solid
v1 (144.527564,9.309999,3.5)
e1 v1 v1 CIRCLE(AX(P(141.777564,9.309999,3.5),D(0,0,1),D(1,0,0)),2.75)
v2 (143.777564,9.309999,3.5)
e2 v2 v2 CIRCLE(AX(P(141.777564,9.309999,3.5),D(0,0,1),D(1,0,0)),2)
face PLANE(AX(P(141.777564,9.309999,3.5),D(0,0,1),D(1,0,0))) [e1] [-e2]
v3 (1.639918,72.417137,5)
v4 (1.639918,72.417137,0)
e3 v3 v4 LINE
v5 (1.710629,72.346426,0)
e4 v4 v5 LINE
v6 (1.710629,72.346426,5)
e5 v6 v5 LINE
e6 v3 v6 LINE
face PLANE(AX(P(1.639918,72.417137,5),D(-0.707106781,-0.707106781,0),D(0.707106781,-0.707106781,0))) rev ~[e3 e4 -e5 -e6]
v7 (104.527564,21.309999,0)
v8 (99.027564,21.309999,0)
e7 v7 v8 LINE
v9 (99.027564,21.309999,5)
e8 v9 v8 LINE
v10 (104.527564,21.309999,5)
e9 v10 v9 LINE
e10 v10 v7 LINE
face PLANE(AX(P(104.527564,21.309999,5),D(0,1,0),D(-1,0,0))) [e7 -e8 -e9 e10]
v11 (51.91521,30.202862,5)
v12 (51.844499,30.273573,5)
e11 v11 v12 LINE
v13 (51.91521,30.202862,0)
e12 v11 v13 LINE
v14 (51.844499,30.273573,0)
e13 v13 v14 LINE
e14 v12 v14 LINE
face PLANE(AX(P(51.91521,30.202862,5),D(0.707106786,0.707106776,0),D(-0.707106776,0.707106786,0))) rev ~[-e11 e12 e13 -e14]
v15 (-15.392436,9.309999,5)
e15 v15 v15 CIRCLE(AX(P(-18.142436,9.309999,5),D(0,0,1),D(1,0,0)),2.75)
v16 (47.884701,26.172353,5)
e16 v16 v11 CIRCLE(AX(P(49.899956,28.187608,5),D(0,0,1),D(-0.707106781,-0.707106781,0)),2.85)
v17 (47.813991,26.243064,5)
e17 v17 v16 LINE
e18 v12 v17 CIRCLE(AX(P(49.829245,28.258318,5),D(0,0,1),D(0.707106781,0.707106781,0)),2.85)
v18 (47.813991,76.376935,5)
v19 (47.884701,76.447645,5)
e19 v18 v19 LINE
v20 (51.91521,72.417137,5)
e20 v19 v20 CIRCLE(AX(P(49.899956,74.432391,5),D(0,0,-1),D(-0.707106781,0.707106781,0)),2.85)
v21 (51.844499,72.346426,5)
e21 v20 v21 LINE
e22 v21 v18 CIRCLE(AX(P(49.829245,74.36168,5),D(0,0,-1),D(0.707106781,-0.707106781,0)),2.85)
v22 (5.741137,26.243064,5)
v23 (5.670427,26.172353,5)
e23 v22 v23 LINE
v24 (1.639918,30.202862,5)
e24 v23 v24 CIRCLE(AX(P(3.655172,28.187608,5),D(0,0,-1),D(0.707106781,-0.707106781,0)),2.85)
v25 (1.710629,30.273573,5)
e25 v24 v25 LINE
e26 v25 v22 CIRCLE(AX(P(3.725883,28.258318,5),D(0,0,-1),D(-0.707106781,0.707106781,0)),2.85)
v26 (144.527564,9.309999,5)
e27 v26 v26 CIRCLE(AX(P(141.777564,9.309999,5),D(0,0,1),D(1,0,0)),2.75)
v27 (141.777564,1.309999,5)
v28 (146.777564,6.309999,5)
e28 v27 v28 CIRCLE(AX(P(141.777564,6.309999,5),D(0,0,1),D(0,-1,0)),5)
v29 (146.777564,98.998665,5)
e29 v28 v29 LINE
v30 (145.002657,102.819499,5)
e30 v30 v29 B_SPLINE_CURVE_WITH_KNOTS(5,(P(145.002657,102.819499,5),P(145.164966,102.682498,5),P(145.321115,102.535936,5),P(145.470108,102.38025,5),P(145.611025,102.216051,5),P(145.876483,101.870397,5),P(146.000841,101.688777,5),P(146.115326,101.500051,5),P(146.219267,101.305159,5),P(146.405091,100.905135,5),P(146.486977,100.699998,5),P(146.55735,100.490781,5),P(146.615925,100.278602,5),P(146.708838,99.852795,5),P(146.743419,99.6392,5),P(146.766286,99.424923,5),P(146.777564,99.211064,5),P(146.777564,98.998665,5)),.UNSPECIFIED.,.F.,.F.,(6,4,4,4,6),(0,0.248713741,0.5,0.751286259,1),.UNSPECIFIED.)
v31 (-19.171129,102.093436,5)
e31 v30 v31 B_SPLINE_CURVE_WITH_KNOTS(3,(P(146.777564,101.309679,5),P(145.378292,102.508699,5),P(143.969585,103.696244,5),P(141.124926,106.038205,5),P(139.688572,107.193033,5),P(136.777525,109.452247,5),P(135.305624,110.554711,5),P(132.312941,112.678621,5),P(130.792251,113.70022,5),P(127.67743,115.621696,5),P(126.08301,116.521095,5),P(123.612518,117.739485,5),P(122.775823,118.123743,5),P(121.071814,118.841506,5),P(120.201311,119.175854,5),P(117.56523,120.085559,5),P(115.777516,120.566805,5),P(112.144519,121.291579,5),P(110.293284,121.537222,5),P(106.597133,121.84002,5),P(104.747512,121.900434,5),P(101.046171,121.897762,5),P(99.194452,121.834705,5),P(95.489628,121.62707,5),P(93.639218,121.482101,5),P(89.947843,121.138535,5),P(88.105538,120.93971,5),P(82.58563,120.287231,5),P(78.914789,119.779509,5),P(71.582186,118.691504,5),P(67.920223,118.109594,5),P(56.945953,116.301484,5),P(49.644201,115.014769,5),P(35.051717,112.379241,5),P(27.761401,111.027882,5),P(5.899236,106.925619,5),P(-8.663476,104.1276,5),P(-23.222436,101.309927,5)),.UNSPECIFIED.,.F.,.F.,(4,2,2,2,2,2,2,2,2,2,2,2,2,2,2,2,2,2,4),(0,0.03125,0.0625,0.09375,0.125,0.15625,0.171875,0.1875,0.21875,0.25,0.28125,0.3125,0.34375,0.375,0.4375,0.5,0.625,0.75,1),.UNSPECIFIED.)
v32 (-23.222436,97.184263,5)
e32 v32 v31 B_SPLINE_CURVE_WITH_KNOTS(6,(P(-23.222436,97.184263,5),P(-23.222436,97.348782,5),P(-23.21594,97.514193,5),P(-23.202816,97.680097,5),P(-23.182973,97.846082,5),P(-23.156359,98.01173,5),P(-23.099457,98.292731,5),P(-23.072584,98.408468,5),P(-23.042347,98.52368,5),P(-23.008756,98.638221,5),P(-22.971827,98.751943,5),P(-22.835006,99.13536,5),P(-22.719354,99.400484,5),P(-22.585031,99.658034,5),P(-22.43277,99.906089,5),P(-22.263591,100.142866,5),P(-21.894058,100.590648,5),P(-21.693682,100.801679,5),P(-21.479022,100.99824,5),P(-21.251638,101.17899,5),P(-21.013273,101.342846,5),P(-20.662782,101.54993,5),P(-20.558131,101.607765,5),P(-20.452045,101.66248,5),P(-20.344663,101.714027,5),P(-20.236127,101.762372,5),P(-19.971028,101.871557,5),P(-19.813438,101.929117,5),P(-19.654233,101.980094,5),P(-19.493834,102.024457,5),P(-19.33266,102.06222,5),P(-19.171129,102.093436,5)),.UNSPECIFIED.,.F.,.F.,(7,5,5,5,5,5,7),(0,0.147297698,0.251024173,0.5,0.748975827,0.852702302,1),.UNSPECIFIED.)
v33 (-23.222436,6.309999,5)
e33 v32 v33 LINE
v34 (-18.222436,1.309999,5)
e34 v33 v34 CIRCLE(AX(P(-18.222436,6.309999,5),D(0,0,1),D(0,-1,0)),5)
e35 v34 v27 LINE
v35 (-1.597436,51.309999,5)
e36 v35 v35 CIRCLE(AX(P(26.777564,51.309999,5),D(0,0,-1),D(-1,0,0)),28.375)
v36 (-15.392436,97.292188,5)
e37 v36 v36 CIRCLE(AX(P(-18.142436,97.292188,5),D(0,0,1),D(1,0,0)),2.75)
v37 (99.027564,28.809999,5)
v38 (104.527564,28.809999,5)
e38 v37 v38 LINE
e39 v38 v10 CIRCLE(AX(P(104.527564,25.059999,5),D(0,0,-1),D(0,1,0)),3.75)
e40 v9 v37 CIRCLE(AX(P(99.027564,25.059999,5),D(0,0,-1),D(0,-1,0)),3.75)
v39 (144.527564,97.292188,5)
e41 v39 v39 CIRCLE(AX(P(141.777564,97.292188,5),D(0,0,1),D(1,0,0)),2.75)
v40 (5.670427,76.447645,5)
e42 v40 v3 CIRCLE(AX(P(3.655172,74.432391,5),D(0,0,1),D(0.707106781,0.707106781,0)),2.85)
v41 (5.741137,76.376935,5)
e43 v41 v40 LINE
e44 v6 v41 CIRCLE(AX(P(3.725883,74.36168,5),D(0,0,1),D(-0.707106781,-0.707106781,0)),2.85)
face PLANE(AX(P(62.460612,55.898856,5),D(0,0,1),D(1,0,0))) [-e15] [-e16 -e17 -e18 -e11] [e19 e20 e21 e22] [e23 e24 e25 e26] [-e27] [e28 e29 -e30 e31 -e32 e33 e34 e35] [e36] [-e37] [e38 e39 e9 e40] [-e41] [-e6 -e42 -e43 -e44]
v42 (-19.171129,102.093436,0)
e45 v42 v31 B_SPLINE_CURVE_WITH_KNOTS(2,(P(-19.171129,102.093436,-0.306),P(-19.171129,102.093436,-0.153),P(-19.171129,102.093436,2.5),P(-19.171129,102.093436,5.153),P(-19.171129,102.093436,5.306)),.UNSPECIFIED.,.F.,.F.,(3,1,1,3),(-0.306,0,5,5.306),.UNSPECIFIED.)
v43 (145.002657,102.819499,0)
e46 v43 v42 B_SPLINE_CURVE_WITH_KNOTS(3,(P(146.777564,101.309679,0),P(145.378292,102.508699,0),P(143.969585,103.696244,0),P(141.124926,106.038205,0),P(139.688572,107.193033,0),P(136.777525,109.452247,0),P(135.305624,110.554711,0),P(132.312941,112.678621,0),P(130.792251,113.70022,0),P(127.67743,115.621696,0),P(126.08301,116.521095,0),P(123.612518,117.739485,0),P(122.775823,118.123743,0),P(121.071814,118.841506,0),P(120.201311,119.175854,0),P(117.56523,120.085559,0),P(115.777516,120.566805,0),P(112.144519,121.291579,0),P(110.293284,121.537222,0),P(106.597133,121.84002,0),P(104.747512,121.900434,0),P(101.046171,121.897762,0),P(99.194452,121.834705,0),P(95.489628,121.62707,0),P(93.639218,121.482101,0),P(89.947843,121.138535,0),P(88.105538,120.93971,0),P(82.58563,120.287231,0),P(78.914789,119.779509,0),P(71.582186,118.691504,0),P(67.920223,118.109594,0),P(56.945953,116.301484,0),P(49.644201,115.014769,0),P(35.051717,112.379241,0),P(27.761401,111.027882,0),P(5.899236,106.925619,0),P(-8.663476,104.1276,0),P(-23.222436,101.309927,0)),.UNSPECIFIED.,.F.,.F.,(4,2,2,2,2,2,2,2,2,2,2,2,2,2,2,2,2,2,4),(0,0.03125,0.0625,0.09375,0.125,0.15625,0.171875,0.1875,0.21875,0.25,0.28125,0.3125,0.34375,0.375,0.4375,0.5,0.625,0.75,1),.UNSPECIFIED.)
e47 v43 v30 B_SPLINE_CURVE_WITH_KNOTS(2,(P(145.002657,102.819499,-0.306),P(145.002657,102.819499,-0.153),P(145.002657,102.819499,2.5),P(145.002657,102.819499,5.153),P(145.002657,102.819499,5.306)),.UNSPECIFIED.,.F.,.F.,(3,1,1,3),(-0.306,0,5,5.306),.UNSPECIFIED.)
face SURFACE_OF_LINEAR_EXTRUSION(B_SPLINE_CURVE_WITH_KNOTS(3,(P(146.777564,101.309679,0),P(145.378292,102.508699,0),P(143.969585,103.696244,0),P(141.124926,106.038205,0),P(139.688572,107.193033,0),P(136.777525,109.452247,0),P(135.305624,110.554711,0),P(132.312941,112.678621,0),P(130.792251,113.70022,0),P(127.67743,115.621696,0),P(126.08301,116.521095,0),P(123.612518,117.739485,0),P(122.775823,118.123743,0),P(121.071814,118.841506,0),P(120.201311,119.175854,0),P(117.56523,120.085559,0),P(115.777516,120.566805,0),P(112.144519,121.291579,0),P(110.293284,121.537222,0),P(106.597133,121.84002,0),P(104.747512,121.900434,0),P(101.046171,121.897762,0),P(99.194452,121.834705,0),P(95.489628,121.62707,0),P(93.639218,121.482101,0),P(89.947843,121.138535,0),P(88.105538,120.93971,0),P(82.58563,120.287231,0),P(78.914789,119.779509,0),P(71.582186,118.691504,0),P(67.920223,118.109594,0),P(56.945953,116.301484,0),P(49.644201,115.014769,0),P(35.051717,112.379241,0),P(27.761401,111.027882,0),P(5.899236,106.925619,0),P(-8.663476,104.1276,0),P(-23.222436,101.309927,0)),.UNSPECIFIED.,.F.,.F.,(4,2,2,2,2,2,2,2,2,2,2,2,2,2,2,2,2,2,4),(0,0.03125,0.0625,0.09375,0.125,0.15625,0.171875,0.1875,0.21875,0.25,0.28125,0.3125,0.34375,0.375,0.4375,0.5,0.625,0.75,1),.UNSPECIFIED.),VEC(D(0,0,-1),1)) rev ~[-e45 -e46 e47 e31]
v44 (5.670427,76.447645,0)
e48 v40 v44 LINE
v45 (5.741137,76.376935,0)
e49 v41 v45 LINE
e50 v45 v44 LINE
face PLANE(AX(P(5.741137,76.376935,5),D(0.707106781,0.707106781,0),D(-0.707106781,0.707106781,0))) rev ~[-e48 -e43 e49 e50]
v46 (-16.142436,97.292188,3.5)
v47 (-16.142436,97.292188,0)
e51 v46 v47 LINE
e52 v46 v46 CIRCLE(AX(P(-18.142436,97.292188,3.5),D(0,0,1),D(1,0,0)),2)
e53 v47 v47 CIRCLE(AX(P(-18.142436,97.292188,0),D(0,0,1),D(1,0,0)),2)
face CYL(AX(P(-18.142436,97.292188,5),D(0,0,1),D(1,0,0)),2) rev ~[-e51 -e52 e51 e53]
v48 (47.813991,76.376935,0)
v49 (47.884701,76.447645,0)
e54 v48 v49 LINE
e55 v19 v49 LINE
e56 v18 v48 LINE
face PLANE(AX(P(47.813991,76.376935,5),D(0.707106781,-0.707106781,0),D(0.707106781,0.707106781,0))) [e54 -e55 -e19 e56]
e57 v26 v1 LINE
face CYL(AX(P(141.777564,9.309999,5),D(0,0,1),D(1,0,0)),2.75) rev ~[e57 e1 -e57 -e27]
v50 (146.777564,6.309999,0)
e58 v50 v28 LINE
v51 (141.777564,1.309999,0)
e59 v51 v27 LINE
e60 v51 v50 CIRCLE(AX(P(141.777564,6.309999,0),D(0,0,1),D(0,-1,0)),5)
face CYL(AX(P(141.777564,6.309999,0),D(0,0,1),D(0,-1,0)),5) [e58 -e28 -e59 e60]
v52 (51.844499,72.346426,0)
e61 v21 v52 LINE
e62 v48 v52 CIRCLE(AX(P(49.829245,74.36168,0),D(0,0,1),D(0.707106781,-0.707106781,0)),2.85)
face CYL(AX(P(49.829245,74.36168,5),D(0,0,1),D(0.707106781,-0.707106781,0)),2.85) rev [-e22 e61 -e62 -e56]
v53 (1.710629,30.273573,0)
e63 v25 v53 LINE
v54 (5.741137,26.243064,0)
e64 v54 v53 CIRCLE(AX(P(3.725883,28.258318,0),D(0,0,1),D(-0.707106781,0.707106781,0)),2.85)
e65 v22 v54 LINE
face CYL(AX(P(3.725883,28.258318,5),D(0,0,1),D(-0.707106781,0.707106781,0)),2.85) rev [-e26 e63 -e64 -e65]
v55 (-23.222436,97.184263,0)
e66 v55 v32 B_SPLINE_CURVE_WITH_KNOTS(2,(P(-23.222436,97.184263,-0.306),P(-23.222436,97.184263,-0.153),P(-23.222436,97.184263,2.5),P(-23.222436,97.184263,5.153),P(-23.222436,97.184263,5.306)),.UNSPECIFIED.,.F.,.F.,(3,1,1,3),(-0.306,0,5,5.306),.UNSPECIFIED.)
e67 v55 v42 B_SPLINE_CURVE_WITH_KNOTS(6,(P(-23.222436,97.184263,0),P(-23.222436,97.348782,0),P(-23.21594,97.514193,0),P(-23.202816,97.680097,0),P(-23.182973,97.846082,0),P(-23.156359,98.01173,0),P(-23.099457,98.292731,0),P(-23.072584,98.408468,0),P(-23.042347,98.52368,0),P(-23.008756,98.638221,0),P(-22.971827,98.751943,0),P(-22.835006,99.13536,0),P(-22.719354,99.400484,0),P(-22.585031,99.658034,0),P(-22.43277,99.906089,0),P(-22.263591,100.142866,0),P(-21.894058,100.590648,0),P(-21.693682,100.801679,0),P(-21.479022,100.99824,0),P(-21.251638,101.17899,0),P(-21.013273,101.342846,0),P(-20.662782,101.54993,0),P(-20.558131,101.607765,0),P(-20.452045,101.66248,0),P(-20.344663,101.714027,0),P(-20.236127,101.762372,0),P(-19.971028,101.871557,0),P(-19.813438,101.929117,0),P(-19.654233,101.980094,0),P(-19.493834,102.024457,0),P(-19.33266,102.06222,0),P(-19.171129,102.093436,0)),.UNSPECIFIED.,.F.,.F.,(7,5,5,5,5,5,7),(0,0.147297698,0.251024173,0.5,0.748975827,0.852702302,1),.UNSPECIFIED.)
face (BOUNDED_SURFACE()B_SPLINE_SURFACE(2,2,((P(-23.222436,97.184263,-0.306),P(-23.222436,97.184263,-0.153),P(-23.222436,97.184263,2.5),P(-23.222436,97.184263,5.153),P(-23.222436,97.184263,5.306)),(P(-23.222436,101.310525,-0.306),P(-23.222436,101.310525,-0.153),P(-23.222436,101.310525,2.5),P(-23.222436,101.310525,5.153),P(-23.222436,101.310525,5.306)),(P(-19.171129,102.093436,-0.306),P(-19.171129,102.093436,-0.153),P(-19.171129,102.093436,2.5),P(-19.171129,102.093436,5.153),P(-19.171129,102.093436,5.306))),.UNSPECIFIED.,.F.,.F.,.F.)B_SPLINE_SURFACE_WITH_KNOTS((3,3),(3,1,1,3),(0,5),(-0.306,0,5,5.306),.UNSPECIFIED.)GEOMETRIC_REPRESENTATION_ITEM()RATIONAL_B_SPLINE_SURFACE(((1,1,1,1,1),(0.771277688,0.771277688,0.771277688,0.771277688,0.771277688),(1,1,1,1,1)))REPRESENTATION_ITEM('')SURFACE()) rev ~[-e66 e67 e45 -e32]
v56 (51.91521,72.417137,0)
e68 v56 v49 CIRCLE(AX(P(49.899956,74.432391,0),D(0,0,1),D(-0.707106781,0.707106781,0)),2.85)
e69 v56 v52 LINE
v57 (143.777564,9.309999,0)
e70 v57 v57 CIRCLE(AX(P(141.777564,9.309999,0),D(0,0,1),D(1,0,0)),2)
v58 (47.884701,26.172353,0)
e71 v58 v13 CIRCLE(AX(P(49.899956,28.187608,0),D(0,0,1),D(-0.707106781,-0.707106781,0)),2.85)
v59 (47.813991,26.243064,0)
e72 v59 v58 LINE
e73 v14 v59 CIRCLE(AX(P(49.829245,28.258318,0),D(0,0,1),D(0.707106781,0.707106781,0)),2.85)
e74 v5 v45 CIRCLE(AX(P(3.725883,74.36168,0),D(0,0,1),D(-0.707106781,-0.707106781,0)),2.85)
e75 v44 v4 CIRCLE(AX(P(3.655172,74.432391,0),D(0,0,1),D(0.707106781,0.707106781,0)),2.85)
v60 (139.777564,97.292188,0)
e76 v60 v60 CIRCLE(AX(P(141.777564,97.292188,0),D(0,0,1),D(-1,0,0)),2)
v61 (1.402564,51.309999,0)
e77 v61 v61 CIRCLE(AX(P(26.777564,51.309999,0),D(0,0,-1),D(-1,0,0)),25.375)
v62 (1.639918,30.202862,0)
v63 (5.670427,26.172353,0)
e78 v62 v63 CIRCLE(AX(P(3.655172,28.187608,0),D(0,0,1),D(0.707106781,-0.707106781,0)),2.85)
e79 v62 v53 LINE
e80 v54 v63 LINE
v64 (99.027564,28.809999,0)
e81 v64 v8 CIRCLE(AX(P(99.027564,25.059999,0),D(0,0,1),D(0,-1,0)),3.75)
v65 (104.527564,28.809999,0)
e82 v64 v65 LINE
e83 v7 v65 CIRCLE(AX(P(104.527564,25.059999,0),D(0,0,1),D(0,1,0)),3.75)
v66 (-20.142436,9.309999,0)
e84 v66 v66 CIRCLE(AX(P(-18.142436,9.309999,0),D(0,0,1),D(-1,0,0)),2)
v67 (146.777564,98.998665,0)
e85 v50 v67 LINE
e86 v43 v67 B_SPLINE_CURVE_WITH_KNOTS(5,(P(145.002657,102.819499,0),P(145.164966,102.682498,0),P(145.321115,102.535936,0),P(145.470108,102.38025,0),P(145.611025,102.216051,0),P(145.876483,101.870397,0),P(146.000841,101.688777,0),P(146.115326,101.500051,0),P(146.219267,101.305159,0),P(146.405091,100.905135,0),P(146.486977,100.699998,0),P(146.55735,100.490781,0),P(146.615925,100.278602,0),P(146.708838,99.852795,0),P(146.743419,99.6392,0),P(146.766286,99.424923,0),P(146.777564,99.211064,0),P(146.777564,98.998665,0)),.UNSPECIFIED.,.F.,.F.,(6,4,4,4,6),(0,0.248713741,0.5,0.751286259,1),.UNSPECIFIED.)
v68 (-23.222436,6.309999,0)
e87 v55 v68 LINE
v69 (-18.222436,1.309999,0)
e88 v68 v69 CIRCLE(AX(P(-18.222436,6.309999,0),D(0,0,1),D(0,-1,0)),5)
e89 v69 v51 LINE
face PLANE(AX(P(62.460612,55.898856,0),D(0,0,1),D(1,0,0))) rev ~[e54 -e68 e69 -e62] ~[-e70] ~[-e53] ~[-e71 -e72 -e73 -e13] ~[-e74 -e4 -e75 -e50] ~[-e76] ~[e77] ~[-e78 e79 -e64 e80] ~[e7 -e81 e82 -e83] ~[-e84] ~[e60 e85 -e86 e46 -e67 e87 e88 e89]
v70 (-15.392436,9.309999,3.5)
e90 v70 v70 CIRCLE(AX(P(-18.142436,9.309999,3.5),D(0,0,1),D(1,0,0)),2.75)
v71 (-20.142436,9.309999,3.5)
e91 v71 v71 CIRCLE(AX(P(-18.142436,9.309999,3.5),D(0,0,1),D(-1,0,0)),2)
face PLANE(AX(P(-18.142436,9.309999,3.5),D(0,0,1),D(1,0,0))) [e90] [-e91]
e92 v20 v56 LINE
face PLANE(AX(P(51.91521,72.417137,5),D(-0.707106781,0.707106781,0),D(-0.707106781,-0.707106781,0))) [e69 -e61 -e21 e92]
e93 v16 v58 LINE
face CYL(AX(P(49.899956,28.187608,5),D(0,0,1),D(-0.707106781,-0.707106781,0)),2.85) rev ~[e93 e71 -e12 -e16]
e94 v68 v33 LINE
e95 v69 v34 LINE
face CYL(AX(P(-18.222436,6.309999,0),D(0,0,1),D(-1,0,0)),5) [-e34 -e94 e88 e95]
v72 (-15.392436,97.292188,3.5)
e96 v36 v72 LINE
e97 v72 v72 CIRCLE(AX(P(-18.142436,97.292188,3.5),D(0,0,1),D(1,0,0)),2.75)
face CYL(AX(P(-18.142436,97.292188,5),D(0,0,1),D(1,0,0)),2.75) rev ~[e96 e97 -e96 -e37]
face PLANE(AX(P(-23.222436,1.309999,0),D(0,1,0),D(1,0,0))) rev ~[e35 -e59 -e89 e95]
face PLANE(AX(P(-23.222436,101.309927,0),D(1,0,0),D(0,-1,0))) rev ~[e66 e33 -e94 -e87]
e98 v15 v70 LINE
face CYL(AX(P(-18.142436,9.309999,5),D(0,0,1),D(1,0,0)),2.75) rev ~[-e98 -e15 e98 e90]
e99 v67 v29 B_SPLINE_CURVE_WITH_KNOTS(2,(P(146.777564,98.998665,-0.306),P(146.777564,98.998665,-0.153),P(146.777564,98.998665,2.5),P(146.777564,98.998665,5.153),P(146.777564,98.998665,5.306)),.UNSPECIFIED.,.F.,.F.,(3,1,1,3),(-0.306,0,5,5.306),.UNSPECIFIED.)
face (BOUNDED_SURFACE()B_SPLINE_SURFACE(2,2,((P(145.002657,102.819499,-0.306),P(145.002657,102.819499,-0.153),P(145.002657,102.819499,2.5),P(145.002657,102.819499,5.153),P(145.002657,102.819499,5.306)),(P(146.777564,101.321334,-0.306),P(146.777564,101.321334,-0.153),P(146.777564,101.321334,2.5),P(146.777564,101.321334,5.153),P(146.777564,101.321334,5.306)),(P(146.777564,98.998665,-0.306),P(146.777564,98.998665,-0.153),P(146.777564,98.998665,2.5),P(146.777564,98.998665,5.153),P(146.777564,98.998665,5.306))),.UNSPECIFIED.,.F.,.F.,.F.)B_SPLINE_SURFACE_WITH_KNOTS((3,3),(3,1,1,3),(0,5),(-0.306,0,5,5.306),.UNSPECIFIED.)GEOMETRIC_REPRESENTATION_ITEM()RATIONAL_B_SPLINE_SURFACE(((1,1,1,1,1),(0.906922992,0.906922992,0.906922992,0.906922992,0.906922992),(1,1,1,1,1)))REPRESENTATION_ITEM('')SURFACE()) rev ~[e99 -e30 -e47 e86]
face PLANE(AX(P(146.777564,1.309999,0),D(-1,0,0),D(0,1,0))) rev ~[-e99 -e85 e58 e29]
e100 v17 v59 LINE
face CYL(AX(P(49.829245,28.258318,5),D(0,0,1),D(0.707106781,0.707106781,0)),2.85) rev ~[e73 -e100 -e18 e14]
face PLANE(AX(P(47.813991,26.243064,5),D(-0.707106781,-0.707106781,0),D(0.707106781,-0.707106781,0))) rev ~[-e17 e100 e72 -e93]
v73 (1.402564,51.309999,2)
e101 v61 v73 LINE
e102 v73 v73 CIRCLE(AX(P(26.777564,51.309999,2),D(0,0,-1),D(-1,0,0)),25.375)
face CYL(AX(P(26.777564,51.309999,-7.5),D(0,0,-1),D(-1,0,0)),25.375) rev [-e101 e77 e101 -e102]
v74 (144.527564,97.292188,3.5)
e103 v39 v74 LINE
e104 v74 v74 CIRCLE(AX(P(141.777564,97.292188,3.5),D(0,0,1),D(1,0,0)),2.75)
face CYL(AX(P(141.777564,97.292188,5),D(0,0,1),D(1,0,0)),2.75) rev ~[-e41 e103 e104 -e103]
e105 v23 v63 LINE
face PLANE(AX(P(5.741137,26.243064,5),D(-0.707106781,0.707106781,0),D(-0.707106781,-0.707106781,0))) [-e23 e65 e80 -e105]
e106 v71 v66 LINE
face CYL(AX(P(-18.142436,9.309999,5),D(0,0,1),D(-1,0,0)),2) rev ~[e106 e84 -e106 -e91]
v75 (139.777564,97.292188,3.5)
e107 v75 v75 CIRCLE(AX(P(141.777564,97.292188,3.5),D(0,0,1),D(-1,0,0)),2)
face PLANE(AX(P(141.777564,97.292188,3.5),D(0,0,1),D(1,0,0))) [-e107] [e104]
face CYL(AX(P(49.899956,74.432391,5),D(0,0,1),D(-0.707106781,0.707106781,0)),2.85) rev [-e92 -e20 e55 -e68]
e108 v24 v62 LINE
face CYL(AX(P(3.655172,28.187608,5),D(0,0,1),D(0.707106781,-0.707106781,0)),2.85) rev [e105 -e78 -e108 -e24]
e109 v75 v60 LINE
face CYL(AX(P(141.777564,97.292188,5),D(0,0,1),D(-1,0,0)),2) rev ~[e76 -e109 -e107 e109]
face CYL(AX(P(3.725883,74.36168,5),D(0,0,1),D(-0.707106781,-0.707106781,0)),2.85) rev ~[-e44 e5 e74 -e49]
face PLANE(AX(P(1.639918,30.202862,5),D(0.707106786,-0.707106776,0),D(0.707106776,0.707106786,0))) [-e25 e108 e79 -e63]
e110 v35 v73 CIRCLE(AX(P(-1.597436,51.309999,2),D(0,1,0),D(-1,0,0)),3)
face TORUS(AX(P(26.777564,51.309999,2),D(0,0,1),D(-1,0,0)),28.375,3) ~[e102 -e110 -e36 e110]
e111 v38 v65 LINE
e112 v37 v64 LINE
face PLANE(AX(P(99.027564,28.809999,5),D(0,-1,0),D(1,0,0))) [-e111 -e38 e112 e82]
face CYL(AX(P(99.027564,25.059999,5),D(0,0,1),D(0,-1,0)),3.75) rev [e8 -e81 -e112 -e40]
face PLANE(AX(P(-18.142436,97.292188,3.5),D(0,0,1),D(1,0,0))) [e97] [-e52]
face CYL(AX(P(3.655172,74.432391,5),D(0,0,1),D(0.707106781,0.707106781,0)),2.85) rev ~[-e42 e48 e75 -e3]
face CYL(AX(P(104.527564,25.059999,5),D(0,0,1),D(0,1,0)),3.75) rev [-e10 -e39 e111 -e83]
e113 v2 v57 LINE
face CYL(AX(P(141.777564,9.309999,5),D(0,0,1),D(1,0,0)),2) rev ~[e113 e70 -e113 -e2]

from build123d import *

# Parameters (mm, degrees)
BOSS_EXTRU_1_DEPTH           = 5
ESQUISSE3_R                  = 2
ENL_V_MAT_EXTRU_1_DEPTH      = 5
ESQUISSE4_R                  = 2.75
ENL_V_MAT_EXTRU_2_DEPTH      = 1.5
ENL_V_MAT_EXTRU_3_DEPTH      = 5
ENL_V_MAT_EXTRU_3_DEPTH_BACK = 12.5
ESQUISSE5_R                  = 25.375
CONG_1_R                     = 3
CONG_2_R                     = 5
ENL_V_MAT_EXTRU_4_DEPTH      = 10
ENL_V_MAT_EXTRU_5_DEPTH      = 10


with BuildPart() as part:
    # Esquisse2 → Boss.-Extru.1 (new body)
    with BuildSketch(Plane.XY):
        with BuildLine():
            Line((-23.222436044, 101.309927053), (-23.222436044, 1.309999322))
            Line((-23.222436044, 1.309999322), (146.777563956, 1.309999322))
            Line((146.777563956, 1.309999322), (146.777563956, 101.30967935))
            add(Edge.make_bspline(
                [(146.777563956, 101.30967935), (145.378292327, 102.508699243), (143.969584716, 103.696244388), (141.124926397, 106.038205363), (139.688572163, 107.193033092), (136.777525095, 109.452247335), (135.305624265, 110.554710529), (132.312941473, 112.678620745), (130.792251165, 113.700219676), (127.677430057, 115.621696386), (126.083009921, 116.521094618), (123.612517857, 117.739485375), (122.775823394, 118.123742581), (121.071813997, 118.841506261), (120.201311014, 119.175853835), (117.565229929, 120.085558525), (115.777516182, 120.566804891), (112.144518509, 121.29157916), (110.293283793, 121.537221637), (106.597133423, 121.840020183), (104.747512209, 121.900433532), (101.046171299, 121.897761869), (99.194452085, 121.834705231), (95.489628441, 121.627070014), (93.63921765, 121.482100865), (89.947842728, 121.138535108), (88.105538062, 120.939709848), (82.585629662, 120.287230662), (78.914789341, 119.779509377), (71.58218577, 118.691503857), (67.920223281, 118.109593605), (56.945952512, 116.3014836), (49.644200811, 115.014768518), (35.051716985, 112.379241478), (27.761400742, 111.027882072), (5.899236405, 106.92561859), (-8.663476314, 104.127599978), (-23.222436044, 101.309927053)],
                knots=[0, 0, 0, 0, 0.03125, 0.03125, 0.0625, 0.0625, 0.09375, 0.09375, 0.125, 0.125, 0.15625, 0.15625, 0.171875, 0.171875, 0.1875, 0.1875, 0.21875, 0.21875, 0.25, 0.25, 0.28125, 0.28125, 0.3125, 0.3125, 0.34375, 0.34375, 0.375, 0.375, 0.4375, 0.4375, 0.5, 0.5, 0.625, 0.625, 0.75, 0.75, 1, 1, 1, 1], degree=3))
        make_face()
    extrude(amount=BOSS_EXTRU_1_DEPTH)

    # Esquisse3 → Enlèv. mat.-Extru.1 (cut)
    with BuildSketch(Plane.XY.offset(5)):
        with Locations((-18.142436044, 97.29218842)):
            Circle(ESQUISSE3_R)
        with Locations(Location((-18.142436044, 9.309999322, 0), (0, 0, 180))):
            Circle(ESQUISSE3_R)
        with Locations((141.777563956, 9.309999322)):
            Circle(ESQUISSE3_R)
        with Locations(Location((141.777563956, 97.29218842, 0), (0, 0, 180))):
            Circle(ESQUISSE3_R)
    extrude(amount=-ENL_V_MAT_EXTRU_1_DEPTH, mode=Mode.SUBTRACT)

    # Esquisse4 → Enlèv. mat.-Extru.2 (cut)
    with BuildSketch(Plane.XY.offset(5)):
        with Locations((-18.142436044, 97.29218842)):
            Circle(ESQUISSE4_R)
        with Locations((141.777563956, 97.29218842)):
            Circle(ESQUISSE4_R)
        with Locations((-18.142436044, 9.309999322)):
            Circle(ESQUISSE4_R)
        with Locations((141.777563956, 9.309999322)):
            Circle(ESQUISSE4_R)
    extrude(amount=-ENL_V_MAT_EXTRU_2_DEPTH, mode=Mode.SUBTRACT)

    # Esquisse5 → Enlèv. mat.-Extru.3 (cut, two sides: drawn at the far end of the back side and taken through both)
    with BuildSketch(Plane.XY.offset(5).offset(-ENL_V_MAT_EXTRU_3_DEPTH_BACK)):
        with Locations(Location((26.777563956, 51.309999322, 0), (0, 0, 180))):
            Circle(ESQUISSE5_R)
    extrude(amount=ENL_V_MAT_EXTRU_3_DEPTH + ENL_V_MAT_EXTRU_3_DEPTH_BACK, mode=Mode.SUBTRACT)

    # Congé1
    cong_1_edges = [part.edges().sort_by_distance(p)[0] for p in [
        (52.152563956, 51.309999322, 5),
    ]]
    fillet(cong_1_edges, radius=CONG_1_R)

    # Congé2
    cong_2_edges = [part.edges().sort_by_distance(p)[0] for p in [
        (146.777563956, 101.30967935, 2.5),
        (146.777563956, 1.309999322, 2.5),
        (-23.222436044, 1.309999322, 2.5),
        (-23.222436044, 101.309927053, 2.5),
    ]]
    fillet(cong_2_edges, radius=CONG_2_R)

    # Esquisse6 → Enlèv. mat.-Extru.4 (cut)
    with BuildSketch(Plane.XY.offset(5)):
        with BuildLine():
            Line((5.741137215, 76.376934715), (5.670426537, 76.447645393))
            ThreePointArc((5.670426537, 76.447645393), (1.639917885, 76.447645393), (1.639917885, 72.41713674))
            Line((1.639917885, 72.41713674), (1.710628563, 72.346426062))
            ThreePointArc((1.710628563, 72.346426062), (5.741137215, 72.346426062), (5.741137215, 76.376934715))
        make_face()
        with BuildLine():
            Line((47.813990696, 76.376934715), (47.884701374, 76.447645393))
            ThreePointArc((47.884701374, 76.447645393), (51.915210027, 76.447645393), (51.915210027, 72.41713674))
            Line((51.915210027, 72.41713674), (51.844499349, 72.346426062))
            ThreePointArc((51.844499349, 72.346426062), (47.813990696, 72.346426062), (47.813990696, 76.376934715))
        make_face()
        with BuildLine():
            Line((47.813990696, 26.243063929), (47.884701374, 26.172353251))
            ThreePointArc((47.884701374, 26.172353251), (51.915210027, 26.172353251), (51.915210027, 30.202861903))
            Line((51.915210027, 30.202861903), (51.844499349, 30.273572582))
            ThreePointArc((51.844499349, 30.273572582), (47.813990696, 30.273572582), (47.813990696, 26.243063929))
        make_face()
        with BuildLine():
            Line((5.741137215, 26.243063929), (5.670426537, 26.172353251))
            ThreePointArc((5.670426537, 26.172353251), (1.639917885, 26.172353251), (1.639917885, 30.202861903))
            Line((1.639917885, 30.202861903), (1.710628563, 30.273572582))
            ThreePointArc((1.710628563, 30.273572582), (5.741137215, 30.273572582), (5.741137215, 26.243063929))
        make_face()
    extrude(amount=-ENL_V_MAT_EXTRU_4_DEPTH, mode=Mode.SUBTRACT)

    # Esquisse7 → Enlèv. mat.-Extru.5 (cut)
    with BuildSketch(Plane.XY.offset(5)):
        with BuildLine():
            Line((99.027563956, 28.809999322), (104.527563956, 28.809999322))
            ThreePointArc((104.527563956, 28.809999322), (108.277563956, 25.059999322), (104.527563956, 21.309999322))
            Line((104.527563956, 21.309999322), (99.027563956, 21.309999322))
            ThreePointArc((99.027563956, 21.309999322), (95.277563956, 25.059999322), (99.027563956, 28.809999322))
        make_face()
    extrude(amount=-ENL_V_MAT_EXTRU_5_DEPTH, mode=Mode.SUBTRACT)


solid = part.part
